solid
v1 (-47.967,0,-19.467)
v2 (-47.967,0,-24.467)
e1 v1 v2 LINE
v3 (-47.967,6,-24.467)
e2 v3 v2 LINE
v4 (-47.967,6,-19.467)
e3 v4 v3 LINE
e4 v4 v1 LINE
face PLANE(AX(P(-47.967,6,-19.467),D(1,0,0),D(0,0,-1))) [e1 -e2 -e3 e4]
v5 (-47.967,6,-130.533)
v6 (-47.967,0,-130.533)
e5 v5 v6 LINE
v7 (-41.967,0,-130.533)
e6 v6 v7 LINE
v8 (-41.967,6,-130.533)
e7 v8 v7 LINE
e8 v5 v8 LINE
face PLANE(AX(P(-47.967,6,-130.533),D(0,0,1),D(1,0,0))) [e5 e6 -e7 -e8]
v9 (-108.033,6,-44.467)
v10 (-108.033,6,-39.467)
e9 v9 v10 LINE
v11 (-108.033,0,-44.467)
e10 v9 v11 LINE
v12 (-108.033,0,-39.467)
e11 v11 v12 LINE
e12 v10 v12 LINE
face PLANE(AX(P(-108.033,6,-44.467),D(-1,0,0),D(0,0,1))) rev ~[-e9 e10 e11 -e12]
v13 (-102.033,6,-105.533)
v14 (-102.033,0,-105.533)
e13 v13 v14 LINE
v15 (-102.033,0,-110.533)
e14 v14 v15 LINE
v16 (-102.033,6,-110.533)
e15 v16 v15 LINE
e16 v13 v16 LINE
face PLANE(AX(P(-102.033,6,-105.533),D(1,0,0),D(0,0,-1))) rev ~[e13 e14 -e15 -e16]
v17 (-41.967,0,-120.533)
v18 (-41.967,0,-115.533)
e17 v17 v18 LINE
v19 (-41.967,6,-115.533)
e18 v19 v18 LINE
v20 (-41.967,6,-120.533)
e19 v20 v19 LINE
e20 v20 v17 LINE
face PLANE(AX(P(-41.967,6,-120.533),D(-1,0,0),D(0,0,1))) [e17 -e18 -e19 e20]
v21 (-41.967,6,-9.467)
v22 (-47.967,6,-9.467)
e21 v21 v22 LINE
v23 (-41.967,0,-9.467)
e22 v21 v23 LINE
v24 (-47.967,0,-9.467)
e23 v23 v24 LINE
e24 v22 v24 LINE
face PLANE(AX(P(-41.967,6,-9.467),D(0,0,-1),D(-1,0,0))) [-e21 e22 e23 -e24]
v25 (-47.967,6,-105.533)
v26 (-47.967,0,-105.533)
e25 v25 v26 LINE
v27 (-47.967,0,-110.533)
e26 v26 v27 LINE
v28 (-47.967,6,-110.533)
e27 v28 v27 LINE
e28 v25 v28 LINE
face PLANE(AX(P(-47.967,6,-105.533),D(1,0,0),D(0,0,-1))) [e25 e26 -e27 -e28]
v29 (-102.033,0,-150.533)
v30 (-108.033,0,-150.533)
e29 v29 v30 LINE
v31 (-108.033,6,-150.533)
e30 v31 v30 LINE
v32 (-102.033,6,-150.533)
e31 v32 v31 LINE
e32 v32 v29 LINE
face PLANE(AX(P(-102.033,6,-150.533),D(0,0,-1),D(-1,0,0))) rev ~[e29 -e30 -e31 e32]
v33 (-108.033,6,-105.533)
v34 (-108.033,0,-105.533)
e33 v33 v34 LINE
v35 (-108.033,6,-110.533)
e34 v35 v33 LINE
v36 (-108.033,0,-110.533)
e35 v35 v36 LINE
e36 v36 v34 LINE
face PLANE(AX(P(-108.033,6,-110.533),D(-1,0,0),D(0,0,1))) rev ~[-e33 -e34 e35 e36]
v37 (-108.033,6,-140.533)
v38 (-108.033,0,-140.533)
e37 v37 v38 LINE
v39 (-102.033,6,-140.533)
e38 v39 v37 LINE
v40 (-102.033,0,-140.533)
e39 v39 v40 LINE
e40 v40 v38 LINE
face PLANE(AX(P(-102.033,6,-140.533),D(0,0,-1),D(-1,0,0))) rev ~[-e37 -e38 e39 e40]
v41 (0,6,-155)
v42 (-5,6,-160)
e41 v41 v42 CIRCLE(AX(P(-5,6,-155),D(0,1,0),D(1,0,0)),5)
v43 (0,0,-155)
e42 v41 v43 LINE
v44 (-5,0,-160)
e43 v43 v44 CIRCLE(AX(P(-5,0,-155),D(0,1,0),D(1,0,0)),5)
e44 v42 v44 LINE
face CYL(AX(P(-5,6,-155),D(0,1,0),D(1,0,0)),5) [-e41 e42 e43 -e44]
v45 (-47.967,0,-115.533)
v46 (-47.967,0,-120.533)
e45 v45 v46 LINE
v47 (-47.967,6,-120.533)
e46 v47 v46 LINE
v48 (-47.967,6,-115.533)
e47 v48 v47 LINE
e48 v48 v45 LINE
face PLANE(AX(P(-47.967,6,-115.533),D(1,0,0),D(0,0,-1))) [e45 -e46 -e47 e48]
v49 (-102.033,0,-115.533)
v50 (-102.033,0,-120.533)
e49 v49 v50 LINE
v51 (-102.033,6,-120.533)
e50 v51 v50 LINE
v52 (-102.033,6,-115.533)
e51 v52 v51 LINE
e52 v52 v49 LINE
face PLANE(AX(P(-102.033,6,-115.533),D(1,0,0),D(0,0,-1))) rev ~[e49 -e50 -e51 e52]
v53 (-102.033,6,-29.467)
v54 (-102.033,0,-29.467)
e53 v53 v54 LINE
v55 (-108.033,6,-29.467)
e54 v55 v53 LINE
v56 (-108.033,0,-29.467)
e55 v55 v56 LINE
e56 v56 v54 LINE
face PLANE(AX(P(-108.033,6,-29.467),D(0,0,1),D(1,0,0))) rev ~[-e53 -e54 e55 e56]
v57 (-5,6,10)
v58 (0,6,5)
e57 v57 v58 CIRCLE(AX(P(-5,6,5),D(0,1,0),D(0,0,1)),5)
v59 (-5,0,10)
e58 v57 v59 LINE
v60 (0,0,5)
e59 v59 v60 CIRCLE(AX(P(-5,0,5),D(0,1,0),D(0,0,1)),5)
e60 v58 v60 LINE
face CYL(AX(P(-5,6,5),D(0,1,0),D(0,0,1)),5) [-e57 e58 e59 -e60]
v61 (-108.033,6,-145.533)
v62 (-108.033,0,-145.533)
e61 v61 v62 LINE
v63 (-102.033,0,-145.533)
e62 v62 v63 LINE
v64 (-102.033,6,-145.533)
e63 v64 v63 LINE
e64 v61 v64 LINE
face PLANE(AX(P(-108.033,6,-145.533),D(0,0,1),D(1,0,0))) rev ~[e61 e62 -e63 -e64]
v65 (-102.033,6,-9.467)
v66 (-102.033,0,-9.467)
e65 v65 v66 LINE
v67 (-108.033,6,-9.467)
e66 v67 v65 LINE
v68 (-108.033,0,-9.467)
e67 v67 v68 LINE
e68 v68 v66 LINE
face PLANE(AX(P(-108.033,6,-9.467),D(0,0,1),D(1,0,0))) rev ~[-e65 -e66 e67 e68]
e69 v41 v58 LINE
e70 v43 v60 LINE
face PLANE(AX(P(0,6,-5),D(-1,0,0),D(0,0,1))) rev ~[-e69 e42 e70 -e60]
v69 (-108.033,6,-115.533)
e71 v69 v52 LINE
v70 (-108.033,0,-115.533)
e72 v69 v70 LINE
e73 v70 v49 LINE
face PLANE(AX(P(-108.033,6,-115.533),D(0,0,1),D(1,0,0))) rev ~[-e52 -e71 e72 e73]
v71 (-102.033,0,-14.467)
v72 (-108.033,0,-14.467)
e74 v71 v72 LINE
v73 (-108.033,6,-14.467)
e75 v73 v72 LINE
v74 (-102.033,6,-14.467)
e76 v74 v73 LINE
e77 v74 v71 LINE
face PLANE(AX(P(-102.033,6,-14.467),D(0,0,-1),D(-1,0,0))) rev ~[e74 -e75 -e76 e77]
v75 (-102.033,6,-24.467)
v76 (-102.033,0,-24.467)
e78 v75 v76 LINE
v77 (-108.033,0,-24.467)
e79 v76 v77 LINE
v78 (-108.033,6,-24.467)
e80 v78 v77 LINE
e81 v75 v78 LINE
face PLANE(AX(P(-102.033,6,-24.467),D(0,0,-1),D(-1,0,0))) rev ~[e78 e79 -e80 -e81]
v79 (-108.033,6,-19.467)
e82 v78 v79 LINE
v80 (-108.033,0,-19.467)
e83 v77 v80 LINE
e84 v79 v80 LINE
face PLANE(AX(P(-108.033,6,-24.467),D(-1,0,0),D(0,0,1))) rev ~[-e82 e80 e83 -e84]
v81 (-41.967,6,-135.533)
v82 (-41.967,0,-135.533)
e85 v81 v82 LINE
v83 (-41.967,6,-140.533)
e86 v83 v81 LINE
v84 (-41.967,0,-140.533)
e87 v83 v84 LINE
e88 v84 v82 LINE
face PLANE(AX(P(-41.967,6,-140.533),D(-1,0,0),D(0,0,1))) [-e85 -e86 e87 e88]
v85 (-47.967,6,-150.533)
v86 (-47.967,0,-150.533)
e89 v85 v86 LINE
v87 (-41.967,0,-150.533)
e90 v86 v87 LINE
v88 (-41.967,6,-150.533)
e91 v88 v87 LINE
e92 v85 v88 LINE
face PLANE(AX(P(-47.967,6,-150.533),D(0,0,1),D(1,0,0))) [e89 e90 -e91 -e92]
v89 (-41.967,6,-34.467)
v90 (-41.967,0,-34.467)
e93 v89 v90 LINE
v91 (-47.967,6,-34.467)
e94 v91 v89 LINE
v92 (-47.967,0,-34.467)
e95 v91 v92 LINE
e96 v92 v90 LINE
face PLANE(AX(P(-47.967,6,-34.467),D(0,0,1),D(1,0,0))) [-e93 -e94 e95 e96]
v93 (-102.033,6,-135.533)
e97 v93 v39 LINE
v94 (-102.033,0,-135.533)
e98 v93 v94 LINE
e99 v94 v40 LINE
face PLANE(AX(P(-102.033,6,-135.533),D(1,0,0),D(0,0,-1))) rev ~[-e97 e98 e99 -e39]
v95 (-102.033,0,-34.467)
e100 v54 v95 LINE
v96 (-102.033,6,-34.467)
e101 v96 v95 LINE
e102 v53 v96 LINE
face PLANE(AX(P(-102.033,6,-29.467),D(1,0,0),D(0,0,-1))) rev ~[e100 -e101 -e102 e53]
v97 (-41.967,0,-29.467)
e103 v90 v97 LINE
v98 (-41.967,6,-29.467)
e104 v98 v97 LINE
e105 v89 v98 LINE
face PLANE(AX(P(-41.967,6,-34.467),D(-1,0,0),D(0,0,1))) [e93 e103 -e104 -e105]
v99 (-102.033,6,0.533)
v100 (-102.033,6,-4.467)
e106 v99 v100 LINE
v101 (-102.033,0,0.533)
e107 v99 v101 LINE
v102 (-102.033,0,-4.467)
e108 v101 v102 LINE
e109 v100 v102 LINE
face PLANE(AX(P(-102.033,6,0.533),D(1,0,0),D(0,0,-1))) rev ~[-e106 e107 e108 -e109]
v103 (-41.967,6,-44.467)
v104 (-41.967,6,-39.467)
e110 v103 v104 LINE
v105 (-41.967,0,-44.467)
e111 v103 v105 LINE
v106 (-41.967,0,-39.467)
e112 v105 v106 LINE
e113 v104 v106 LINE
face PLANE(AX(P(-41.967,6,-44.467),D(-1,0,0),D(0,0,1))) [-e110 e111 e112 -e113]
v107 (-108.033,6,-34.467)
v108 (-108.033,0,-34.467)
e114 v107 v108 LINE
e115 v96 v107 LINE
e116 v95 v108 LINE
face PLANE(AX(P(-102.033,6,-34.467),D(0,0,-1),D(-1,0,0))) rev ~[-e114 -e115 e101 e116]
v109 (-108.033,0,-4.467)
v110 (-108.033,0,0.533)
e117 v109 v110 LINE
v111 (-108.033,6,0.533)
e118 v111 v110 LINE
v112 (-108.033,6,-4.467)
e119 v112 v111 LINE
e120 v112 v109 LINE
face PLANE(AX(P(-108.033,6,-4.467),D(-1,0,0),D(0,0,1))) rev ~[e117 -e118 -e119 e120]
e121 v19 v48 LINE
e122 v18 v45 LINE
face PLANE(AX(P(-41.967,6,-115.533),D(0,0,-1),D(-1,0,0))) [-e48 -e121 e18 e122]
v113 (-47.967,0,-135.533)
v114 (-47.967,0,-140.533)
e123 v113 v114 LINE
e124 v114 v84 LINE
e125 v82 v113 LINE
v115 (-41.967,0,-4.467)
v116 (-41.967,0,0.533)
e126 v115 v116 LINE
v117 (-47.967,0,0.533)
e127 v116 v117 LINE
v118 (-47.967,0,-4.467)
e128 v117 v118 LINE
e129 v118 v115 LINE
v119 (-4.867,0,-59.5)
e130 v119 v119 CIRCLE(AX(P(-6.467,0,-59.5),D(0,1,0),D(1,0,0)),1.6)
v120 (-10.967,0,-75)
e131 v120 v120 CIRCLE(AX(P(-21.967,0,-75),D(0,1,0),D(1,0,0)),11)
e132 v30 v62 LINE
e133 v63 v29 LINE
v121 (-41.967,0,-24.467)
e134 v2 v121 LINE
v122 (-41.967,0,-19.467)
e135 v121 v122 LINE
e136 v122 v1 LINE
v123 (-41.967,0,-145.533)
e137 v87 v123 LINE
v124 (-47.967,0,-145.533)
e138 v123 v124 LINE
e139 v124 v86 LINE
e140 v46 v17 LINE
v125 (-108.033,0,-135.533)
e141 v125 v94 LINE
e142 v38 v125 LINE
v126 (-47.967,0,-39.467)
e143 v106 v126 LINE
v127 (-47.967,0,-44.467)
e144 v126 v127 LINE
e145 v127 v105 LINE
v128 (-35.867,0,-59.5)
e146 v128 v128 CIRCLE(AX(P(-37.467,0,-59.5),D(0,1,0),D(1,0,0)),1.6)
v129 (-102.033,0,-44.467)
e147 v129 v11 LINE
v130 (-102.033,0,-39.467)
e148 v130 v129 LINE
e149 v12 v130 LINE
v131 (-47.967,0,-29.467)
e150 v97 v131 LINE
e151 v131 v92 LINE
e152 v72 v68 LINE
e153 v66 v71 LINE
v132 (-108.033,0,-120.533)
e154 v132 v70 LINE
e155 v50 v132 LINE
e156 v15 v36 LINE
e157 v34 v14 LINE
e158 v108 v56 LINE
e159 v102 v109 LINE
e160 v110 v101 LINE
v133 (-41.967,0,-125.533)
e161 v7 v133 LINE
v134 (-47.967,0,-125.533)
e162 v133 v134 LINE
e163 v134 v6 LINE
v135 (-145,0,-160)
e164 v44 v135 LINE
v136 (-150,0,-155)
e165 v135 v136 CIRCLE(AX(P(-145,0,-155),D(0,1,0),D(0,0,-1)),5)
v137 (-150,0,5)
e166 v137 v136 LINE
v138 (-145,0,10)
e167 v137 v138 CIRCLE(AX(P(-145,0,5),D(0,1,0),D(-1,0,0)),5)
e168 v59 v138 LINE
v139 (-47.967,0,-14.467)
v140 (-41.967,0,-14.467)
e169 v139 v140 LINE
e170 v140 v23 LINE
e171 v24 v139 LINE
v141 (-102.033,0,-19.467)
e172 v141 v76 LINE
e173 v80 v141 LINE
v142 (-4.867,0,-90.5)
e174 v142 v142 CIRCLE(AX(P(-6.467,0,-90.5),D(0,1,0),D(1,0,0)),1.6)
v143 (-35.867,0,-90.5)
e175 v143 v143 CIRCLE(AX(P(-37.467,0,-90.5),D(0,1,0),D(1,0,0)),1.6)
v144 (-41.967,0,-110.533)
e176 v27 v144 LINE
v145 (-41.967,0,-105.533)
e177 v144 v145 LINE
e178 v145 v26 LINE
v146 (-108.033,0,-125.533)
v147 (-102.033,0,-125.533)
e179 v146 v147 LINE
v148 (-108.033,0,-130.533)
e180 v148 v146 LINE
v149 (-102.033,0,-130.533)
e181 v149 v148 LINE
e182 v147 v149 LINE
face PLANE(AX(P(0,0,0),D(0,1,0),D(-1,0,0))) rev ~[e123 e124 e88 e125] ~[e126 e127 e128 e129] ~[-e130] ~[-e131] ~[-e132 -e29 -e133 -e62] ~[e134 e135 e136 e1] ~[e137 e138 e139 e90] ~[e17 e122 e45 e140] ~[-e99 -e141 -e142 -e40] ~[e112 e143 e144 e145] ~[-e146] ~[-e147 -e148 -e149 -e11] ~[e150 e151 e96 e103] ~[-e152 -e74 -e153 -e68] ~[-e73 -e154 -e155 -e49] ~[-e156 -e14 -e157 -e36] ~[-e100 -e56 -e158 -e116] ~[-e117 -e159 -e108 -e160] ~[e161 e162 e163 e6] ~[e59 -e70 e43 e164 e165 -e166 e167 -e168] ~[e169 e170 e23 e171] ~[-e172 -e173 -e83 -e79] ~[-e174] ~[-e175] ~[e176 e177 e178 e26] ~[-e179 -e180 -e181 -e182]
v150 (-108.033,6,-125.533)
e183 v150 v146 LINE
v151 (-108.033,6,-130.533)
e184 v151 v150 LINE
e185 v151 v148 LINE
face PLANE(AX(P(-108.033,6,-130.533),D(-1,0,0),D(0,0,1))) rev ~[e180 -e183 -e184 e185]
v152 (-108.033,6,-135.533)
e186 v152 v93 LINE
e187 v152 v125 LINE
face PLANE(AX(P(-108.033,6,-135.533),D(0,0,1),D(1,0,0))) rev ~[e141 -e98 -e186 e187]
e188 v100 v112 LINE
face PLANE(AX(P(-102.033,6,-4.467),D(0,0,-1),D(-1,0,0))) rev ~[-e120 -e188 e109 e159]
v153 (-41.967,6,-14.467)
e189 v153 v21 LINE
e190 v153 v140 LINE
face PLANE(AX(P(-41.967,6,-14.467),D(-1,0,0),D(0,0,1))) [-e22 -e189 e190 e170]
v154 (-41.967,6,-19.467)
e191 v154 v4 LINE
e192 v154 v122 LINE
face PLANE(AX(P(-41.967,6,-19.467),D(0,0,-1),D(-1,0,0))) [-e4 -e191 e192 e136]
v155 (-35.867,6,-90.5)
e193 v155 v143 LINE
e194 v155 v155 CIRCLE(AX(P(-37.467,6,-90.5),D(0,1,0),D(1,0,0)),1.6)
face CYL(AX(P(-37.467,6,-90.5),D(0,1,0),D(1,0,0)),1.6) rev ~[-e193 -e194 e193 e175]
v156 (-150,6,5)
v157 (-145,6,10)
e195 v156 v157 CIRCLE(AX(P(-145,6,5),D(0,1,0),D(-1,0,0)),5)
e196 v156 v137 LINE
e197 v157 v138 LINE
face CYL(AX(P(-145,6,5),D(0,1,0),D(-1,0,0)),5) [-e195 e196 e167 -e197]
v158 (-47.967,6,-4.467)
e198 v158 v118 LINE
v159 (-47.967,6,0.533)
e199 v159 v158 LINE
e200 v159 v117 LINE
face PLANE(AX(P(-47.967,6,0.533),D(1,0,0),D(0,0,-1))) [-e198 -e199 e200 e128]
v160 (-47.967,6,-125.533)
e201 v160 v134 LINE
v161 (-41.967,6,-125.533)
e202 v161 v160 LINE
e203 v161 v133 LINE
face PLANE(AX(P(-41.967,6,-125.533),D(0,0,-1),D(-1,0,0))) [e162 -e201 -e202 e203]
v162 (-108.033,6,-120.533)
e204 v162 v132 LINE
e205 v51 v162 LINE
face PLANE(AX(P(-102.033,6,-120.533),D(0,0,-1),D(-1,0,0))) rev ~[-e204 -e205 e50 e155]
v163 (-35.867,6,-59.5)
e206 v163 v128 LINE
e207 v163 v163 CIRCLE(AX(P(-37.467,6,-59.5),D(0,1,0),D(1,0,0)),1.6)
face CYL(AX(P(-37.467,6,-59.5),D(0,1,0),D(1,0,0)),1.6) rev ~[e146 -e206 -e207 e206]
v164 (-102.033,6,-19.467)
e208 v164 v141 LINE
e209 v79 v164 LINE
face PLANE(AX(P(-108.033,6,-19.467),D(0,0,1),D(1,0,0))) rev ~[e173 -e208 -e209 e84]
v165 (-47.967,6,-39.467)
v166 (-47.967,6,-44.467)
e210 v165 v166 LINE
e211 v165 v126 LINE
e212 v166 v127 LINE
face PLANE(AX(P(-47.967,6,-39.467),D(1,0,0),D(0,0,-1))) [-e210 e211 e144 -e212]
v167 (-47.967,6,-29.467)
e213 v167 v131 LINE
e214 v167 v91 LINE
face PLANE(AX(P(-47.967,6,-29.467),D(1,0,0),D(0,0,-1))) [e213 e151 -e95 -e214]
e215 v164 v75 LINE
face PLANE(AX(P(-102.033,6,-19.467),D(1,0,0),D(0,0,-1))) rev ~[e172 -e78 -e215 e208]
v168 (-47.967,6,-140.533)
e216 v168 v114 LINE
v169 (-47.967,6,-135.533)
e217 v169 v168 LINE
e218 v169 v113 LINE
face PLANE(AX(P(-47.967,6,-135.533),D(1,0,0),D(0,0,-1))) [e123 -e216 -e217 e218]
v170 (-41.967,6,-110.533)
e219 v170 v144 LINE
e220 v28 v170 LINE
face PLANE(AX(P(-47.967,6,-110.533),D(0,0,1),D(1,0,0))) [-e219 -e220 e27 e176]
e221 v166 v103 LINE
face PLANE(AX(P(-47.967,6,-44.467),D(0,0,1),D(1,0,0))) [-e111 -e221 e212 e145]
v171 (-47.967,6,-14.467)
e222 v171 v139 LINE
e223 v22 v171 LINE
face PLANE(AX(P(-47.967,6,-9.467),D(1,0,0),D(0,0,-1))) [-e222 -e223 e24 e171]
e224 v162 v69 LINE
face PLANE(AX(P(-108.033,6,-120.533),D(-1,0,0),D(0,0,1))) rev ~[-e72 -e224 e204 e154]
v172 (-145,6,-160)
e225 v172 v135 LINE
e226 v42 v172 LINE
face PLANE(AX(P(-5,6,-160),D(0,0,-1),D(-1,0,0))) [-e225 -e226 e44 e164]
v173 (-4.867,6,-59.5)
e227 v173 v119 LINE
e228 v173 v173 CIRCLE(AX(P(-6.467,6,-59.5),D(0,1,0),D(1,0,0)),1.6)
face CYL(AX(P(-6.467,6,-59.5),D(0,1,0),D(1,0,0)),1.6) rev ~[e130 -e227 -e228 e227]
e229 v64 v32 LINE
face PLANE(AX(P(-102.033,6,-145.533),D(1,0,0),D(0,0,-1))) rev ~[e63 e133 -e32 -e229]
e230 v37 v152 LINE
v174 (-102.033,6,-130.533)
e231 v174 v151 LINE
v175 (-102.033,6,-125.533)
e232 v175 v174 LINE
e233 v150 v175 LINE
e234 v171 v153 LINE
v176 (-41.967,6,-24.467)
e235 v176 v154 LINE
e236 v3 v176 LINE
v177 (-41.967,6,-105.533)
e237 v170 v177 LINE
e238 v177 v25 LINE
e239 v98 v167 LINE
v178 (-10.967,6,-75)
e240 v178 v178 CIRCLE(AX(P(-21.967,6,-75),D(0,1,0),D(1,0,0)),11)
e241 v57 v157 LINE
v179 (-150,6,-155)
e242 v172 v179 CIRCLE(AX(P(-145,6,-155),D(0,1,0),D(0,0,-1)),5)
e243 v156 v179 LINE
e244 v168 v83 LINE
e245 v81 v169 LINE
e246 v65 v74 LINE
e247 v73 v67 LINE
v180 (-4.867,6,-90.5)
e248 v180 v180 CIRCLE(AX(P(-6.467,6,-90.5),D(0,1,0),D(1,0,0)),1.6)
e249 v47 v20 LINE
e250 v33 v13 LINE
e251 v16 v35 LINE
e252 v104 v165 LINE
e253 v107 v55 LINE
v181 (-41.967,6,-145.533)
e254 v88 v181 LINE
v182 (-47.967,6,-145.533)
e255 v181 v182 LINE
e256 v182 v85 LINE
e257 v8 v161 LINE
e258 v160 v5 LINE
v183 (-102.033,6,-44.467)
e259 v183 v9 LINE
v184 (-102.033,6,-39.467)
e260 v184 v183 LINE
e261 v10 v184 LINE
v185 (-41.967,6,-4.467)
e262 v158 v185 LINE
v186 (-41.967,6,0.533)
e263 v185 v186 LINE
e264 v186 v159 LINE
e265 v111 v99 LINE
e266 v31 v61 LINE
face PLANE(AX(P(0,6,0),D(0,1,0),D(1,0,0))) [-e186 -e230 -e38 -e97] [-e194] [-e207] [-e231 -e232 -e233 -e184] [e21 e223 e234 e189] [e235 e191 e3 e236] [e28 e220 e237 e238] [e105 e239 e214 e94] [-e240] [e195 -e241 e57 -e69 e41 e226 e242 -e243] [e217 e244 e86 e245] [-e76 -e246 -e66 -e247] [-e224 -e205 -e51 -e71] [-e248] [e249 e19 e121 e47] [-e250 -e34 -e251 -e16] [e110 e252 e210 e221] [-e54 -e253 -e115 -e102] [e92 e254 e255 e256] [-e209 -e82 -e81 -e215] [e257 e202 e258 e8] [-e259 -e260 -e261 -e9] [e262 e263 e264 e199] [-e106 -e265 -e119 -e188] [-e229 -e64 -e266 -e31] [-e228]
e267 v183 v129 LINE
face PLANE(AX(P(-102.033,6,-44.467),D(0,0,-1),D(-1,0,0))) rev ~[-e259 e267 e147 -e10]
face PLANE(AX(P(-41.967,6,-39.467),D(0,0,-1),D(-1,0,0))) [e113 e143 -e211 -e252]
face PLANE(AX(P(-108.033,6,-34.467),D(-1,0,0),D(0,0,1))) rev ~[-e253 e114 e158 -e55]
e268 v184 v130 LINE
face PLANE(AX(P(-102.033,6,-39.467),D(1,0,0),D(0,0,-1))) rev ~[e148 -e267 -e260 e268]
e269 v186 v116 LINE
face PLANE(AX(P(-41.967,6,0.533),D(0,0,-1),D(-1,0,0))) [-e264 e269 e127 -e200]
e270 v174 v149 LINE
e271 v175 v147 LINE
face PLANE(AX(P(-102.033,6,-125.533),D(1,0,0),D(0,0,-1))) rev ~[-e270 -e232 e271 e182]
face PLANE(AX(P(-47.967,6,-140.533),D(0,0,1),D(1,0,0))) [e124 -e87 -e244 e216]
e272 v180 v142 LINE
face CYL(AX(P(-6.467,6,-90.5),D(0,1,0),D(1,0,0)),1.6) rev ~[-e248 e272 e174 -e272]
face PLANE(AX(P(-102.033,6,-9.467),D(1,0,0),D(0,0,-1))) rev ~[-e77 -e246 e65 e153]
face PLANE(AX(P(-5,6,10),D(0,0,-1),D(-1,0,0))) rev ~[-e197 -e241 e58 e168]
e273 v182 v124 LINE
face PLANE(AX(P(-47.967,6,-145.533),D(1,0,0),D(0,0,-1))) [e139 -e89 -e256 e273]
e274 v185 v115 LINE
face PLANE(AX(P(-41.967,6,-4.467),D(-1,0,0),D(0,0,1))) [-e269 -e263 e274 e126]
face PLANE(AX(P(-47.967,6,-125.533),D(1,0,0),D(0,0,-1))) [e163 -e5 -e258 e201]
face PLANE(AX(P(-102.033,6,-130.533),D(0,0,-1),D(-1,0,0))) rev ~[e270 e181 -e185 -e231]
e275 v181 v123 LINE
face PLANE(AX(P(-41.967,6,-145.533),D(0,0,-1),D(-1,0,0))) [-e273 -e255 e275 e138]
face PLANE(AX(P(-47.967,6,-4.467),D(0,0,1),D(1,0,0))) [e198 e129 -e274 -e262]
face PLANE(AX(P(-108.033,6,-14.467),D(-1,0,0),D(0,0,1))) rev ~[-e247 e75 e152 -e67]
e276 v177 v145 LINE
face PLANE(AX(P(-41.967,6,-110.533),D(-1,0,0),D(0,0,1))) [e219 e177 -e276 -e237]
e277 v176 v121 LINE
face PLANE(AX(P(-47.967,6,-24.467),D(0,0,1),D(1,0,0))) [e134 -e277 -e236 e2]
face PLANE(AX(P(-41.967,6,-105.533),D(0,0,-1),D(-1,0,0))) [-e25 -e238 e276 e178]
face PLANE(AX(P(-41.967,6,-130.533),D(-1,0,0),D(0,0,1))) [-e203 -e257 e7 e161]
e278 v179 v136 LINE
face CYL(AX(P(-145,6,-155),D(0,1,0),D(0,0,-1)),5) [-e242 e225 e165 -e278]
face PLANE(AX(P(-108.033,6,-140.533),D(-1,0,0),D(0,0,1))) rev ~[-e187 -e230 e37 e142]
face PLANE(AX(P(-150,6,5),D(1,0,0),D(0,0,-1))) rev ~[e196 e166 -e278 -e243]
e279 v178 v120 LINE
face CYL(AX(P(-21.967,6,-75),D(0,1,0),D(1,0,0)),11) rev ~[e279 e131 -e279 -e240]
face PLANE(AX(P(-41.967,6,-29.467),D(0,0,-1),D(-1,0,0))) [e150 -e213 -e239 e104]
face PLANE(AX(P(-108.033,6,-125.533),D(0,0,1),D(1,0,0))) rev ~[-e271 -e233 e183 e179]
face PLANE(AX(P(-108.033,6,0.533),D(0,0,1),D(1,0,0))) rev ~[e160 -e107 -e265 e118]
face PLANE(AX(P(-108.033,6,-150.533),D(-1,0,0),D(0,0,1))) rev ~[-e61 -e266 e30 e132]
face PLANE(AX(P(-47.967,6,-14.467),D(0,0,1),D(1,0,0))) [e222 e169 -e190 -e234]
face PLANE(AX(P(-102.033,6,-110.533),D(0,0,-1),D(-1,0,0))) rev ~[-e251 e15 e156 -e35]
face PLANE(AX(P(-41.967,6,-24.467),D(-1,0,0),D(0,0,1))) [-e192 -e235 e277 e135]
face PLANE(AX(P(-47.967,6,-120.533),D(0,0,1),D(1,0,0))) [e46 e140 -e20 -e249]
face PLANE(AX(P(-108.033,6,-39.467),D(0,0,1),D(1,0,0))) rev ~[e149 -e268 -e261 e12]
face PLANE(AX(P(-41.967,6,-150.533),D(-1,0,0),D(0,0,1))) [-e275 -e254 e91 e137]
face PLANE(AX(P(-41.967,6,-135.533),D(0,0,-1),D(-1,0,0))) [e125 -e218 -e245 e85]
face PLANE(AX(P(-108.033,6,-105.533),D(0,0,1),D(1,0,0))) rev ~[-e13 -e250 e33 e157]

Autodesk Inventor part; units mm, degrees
ref_plane "YZ Plane" through (0, 0, 0) normal (1, 0, 0) x (0, 1, 0)
ref_plane "XZ Plane" through (0, 0, 0) normal (0, 1, 0) x (-1, 0, 0)
ref_plane "XY Plane" through (0, 0, 0) normal (0, 0, 1) x (1, 0, 0)
sketch "Sketch1" plane through (0, 0, 0) normal (0, 1, 0) x (-1, 0, 0)
  line L0 (5, 0) -> (145, 0)
  line L1 (150, -5) -> (150, -145)
  line L2 (145, -150) -> (5, -150)
  line L3 (0, -145) -> (0, -5)
  arc A0 (150, -5) -> (145, 0) centre (145, -5) ccw
  arc A1 (145, -150) -> (150, -145) centre (145, -145) ccw
  arc A2 (5, 0) -> (0, -5) centre (5, -5) ccw
  arc A3 (0, -145) -> (5, -150) centre (5, -145) ccw
  circle A4 centre (128.033, -128.033) radius 5
  circle A5 centre (128.033, -21.967) radius 5
  circle A6 centre (21.967, -21.967) radius 5
  circle A7 centre (21.967, -128.033) radius 5
  point P0 (0, 0)
  point P1 (150, -150)
  point P2 (150, 0)
  point P3 (0, -150)
  dimension "d0" = 150
  dimension "d1" = 150
  dimension "d2" = 5
  dimension "d9" = 10
  dimension "d10" = 10
  dimension "d11" = 10
  dimension "d12" = 10
extrude "Extrusion1" add sketch "Sketch1" along normal blind 6
sketch "Sketch2" plane through (0, 6, 0) normal (0, 1, 0) x (1, 0, 0)
  line L0 (0, 5) -> (0, 145) projected
  circle A0 centre (-21.967, 21.967) radius 5 projected
  circle A1 centre (-21.967, 75) radius 11
  circle A2 centre (-37.467, 59.5) radius 1.6
  circle A3 centre (-37.467, 90.5) radius 1.6
  circle A4 centre (-6.467, 59.5) radius 1.6
  circle A5 centre (-6.467, 90.5) radius 1.6
  line L1 (-5, 150) -> (-145, 150) projected
  point P0 (0, 0)
  dimension "d15" = 22
  dimension "d21" = 3.2
  dimension "d22" = 3.2
  dimension "d23" = 3.2
  dimension "d24" = 3.2
  dimension "d65" = 31
extrude "Extrusion2" cut sketch "Sketch2" against normal blind 6 contours A1 | A2 | A3 | A4 | A5
sketch "Sketch3" plane through (0, 6, 0) normal (0, 1, 0) x (1, 0, 0)
  circle A0 centre (-128.033, 128.033) radius 5 projected
  arc A1 (-145, 150) -> (-150, 145) centre (-145, 145) ccw projected
  line L0 (-150, 145) -> (0, 145)
  line L1 (0, 145) -> (0, 155)
  line L2 (-5, 160) -> (-145, 160)
  line L3 (-150, 155) -> (-150, 145)
  arc A2 (-150, 5) -> (-145, 0) centre (-145, 5) ccw projected
  line L4 (-150, 5) -> (0, 5)
  line L5 (0, 5) -> (0, -5)
  line L6 (-5, -10) -> (-145, -10)
  line L7 (-150, -5) -> (-150, 5)
  arc A3 (-145, 160) -> (-150, 155) centre (-145, 155) ccw
  arc A4 (0, 155) -> (-5, 160) centre (-5, 155) ccw
  arc A5 (-150, -5) -> (-145, -10) centre (-145, -5) ccw
  arc A6 (-5, -10) -> (0, -5) centre (-5, -5) ccw
  point P0 (0, 0)
  point P1 (0, 160)
  point P2 (-150, 160)
  point P3 (0, -10)
  point P4 (-150, -10)
  dimension "d29" = 150
  dimension "d30" = 15
  dimension "d31" = 150
  dimension "d32" = 15
  dimension "d33" = 5
extrude "Extrusion3" add sketch "Sketch3" against normal blind 6 contours L3 A3 L2 A4 L1 L0 | L4 L5 A6 L6 A5 L7
sketch "Sketch4" plane through (0, 6, 0) normal (0, 1, 0) x (1, 0, 0)
  circle A0 centre (-128.033, 128.033) radius 5 projected
  line L0 (-108.033, 105.533) -> (-102.033, 105.533)
  line L1 (-102.033, 105.533) -> (-102.033, 110.533)
  line L2 (-102.033, 110.533) -> (-108.033, 110.533)
  line L3 (-108.033, 110.533) -> (-108.033, 105.533)
  circle A1 centre (-21.967, 128.033) radius 5 projected
  line L4 (-41.967, 105.533) -> (-47.967, 105.533)
  line L5 (-47.967, 105.533) -> (-47.967, 110.533)
  line L6 (-47.967, 110.533) -> (-41.967, 110.533)
  line L7 (-41.967, 110.533) -> (-41.967, 105.533)
  circle A2 centre (-128.033, 21.967) radius 5 projected
  line L8 (-108.033, -0.533) -> (-102.033, -0.533)
  line L9 (-102.033, -0.533) -> (-102.033, 4.467)
  line L10 (-102.033, 4.467) -> (-108.033, 4.467)
  line L11 (-108.033, 4.467) -> (-108.033, -0.533)
  circle A3 centre (-21.967, 21.967) radius 5 projected
  line L12 (-41.967, -0.533) -> (-47.967, -0.533)
  line L13 (-47.967, -0.533) -> (-47.967, 4.467)
  line L14 (-47.967, 4.467) -> (-41.967, 4.467)
  line L15 (-41.967, 4.467) -> (-41.967, -0.533)
  point P0 (0, 0)
  dimension "d39" = 6
  dimension "d40" = 5
  dimension "d43" = 6
  dimension "d44" = 5
  dimension "d47" = 6
  dimension "d48" = 5
  dimension "d51" = 6
  dimension "d52" = 5
extrude "Extrusion4" cut sketch "Sketch4" against normal blind 6 contours L3 L2 L1 L0 | L4 L5 L6 L7 | L11 L10 L9 L8 | L12 L13 L14 L15
pattern_linear "Rectangular Pattern1" count 5 spacing 10 along (0, 0, -1) of "Extrusion4"
sketch "Sketch5" plane through (0, 6, 0) normal (0, 1, 0) x (1, 0, 0)
  circle A0 centre (-128.033, 21.967) radius 5 projected
  circle A1 centre (-128.033, 21.967) radius 5
  circle A2 centre (-128.033, 128.033) radius 5 projected
  circle A3 centre (-128.033, 128.033) radius 5
  circle A4 centre (-21.967, 128.033) radius 5 projected
  circle A5 centre (-21.967, 128.033) radius 5
  circle A6 centre (-21.967, 21.967) radius 5 projected
  circle A7 centre (-21.967, 21.967) radius 5
  point P0 (0, 0)
  dimension "d58" = 10
  dimension "d59" = 10
  dimension "d60" = 10
  dimension "d61" = 10
extrude "Extrusion5" add sketch "Sketch5" against normal blind 6
properties part number "e_top 1"
